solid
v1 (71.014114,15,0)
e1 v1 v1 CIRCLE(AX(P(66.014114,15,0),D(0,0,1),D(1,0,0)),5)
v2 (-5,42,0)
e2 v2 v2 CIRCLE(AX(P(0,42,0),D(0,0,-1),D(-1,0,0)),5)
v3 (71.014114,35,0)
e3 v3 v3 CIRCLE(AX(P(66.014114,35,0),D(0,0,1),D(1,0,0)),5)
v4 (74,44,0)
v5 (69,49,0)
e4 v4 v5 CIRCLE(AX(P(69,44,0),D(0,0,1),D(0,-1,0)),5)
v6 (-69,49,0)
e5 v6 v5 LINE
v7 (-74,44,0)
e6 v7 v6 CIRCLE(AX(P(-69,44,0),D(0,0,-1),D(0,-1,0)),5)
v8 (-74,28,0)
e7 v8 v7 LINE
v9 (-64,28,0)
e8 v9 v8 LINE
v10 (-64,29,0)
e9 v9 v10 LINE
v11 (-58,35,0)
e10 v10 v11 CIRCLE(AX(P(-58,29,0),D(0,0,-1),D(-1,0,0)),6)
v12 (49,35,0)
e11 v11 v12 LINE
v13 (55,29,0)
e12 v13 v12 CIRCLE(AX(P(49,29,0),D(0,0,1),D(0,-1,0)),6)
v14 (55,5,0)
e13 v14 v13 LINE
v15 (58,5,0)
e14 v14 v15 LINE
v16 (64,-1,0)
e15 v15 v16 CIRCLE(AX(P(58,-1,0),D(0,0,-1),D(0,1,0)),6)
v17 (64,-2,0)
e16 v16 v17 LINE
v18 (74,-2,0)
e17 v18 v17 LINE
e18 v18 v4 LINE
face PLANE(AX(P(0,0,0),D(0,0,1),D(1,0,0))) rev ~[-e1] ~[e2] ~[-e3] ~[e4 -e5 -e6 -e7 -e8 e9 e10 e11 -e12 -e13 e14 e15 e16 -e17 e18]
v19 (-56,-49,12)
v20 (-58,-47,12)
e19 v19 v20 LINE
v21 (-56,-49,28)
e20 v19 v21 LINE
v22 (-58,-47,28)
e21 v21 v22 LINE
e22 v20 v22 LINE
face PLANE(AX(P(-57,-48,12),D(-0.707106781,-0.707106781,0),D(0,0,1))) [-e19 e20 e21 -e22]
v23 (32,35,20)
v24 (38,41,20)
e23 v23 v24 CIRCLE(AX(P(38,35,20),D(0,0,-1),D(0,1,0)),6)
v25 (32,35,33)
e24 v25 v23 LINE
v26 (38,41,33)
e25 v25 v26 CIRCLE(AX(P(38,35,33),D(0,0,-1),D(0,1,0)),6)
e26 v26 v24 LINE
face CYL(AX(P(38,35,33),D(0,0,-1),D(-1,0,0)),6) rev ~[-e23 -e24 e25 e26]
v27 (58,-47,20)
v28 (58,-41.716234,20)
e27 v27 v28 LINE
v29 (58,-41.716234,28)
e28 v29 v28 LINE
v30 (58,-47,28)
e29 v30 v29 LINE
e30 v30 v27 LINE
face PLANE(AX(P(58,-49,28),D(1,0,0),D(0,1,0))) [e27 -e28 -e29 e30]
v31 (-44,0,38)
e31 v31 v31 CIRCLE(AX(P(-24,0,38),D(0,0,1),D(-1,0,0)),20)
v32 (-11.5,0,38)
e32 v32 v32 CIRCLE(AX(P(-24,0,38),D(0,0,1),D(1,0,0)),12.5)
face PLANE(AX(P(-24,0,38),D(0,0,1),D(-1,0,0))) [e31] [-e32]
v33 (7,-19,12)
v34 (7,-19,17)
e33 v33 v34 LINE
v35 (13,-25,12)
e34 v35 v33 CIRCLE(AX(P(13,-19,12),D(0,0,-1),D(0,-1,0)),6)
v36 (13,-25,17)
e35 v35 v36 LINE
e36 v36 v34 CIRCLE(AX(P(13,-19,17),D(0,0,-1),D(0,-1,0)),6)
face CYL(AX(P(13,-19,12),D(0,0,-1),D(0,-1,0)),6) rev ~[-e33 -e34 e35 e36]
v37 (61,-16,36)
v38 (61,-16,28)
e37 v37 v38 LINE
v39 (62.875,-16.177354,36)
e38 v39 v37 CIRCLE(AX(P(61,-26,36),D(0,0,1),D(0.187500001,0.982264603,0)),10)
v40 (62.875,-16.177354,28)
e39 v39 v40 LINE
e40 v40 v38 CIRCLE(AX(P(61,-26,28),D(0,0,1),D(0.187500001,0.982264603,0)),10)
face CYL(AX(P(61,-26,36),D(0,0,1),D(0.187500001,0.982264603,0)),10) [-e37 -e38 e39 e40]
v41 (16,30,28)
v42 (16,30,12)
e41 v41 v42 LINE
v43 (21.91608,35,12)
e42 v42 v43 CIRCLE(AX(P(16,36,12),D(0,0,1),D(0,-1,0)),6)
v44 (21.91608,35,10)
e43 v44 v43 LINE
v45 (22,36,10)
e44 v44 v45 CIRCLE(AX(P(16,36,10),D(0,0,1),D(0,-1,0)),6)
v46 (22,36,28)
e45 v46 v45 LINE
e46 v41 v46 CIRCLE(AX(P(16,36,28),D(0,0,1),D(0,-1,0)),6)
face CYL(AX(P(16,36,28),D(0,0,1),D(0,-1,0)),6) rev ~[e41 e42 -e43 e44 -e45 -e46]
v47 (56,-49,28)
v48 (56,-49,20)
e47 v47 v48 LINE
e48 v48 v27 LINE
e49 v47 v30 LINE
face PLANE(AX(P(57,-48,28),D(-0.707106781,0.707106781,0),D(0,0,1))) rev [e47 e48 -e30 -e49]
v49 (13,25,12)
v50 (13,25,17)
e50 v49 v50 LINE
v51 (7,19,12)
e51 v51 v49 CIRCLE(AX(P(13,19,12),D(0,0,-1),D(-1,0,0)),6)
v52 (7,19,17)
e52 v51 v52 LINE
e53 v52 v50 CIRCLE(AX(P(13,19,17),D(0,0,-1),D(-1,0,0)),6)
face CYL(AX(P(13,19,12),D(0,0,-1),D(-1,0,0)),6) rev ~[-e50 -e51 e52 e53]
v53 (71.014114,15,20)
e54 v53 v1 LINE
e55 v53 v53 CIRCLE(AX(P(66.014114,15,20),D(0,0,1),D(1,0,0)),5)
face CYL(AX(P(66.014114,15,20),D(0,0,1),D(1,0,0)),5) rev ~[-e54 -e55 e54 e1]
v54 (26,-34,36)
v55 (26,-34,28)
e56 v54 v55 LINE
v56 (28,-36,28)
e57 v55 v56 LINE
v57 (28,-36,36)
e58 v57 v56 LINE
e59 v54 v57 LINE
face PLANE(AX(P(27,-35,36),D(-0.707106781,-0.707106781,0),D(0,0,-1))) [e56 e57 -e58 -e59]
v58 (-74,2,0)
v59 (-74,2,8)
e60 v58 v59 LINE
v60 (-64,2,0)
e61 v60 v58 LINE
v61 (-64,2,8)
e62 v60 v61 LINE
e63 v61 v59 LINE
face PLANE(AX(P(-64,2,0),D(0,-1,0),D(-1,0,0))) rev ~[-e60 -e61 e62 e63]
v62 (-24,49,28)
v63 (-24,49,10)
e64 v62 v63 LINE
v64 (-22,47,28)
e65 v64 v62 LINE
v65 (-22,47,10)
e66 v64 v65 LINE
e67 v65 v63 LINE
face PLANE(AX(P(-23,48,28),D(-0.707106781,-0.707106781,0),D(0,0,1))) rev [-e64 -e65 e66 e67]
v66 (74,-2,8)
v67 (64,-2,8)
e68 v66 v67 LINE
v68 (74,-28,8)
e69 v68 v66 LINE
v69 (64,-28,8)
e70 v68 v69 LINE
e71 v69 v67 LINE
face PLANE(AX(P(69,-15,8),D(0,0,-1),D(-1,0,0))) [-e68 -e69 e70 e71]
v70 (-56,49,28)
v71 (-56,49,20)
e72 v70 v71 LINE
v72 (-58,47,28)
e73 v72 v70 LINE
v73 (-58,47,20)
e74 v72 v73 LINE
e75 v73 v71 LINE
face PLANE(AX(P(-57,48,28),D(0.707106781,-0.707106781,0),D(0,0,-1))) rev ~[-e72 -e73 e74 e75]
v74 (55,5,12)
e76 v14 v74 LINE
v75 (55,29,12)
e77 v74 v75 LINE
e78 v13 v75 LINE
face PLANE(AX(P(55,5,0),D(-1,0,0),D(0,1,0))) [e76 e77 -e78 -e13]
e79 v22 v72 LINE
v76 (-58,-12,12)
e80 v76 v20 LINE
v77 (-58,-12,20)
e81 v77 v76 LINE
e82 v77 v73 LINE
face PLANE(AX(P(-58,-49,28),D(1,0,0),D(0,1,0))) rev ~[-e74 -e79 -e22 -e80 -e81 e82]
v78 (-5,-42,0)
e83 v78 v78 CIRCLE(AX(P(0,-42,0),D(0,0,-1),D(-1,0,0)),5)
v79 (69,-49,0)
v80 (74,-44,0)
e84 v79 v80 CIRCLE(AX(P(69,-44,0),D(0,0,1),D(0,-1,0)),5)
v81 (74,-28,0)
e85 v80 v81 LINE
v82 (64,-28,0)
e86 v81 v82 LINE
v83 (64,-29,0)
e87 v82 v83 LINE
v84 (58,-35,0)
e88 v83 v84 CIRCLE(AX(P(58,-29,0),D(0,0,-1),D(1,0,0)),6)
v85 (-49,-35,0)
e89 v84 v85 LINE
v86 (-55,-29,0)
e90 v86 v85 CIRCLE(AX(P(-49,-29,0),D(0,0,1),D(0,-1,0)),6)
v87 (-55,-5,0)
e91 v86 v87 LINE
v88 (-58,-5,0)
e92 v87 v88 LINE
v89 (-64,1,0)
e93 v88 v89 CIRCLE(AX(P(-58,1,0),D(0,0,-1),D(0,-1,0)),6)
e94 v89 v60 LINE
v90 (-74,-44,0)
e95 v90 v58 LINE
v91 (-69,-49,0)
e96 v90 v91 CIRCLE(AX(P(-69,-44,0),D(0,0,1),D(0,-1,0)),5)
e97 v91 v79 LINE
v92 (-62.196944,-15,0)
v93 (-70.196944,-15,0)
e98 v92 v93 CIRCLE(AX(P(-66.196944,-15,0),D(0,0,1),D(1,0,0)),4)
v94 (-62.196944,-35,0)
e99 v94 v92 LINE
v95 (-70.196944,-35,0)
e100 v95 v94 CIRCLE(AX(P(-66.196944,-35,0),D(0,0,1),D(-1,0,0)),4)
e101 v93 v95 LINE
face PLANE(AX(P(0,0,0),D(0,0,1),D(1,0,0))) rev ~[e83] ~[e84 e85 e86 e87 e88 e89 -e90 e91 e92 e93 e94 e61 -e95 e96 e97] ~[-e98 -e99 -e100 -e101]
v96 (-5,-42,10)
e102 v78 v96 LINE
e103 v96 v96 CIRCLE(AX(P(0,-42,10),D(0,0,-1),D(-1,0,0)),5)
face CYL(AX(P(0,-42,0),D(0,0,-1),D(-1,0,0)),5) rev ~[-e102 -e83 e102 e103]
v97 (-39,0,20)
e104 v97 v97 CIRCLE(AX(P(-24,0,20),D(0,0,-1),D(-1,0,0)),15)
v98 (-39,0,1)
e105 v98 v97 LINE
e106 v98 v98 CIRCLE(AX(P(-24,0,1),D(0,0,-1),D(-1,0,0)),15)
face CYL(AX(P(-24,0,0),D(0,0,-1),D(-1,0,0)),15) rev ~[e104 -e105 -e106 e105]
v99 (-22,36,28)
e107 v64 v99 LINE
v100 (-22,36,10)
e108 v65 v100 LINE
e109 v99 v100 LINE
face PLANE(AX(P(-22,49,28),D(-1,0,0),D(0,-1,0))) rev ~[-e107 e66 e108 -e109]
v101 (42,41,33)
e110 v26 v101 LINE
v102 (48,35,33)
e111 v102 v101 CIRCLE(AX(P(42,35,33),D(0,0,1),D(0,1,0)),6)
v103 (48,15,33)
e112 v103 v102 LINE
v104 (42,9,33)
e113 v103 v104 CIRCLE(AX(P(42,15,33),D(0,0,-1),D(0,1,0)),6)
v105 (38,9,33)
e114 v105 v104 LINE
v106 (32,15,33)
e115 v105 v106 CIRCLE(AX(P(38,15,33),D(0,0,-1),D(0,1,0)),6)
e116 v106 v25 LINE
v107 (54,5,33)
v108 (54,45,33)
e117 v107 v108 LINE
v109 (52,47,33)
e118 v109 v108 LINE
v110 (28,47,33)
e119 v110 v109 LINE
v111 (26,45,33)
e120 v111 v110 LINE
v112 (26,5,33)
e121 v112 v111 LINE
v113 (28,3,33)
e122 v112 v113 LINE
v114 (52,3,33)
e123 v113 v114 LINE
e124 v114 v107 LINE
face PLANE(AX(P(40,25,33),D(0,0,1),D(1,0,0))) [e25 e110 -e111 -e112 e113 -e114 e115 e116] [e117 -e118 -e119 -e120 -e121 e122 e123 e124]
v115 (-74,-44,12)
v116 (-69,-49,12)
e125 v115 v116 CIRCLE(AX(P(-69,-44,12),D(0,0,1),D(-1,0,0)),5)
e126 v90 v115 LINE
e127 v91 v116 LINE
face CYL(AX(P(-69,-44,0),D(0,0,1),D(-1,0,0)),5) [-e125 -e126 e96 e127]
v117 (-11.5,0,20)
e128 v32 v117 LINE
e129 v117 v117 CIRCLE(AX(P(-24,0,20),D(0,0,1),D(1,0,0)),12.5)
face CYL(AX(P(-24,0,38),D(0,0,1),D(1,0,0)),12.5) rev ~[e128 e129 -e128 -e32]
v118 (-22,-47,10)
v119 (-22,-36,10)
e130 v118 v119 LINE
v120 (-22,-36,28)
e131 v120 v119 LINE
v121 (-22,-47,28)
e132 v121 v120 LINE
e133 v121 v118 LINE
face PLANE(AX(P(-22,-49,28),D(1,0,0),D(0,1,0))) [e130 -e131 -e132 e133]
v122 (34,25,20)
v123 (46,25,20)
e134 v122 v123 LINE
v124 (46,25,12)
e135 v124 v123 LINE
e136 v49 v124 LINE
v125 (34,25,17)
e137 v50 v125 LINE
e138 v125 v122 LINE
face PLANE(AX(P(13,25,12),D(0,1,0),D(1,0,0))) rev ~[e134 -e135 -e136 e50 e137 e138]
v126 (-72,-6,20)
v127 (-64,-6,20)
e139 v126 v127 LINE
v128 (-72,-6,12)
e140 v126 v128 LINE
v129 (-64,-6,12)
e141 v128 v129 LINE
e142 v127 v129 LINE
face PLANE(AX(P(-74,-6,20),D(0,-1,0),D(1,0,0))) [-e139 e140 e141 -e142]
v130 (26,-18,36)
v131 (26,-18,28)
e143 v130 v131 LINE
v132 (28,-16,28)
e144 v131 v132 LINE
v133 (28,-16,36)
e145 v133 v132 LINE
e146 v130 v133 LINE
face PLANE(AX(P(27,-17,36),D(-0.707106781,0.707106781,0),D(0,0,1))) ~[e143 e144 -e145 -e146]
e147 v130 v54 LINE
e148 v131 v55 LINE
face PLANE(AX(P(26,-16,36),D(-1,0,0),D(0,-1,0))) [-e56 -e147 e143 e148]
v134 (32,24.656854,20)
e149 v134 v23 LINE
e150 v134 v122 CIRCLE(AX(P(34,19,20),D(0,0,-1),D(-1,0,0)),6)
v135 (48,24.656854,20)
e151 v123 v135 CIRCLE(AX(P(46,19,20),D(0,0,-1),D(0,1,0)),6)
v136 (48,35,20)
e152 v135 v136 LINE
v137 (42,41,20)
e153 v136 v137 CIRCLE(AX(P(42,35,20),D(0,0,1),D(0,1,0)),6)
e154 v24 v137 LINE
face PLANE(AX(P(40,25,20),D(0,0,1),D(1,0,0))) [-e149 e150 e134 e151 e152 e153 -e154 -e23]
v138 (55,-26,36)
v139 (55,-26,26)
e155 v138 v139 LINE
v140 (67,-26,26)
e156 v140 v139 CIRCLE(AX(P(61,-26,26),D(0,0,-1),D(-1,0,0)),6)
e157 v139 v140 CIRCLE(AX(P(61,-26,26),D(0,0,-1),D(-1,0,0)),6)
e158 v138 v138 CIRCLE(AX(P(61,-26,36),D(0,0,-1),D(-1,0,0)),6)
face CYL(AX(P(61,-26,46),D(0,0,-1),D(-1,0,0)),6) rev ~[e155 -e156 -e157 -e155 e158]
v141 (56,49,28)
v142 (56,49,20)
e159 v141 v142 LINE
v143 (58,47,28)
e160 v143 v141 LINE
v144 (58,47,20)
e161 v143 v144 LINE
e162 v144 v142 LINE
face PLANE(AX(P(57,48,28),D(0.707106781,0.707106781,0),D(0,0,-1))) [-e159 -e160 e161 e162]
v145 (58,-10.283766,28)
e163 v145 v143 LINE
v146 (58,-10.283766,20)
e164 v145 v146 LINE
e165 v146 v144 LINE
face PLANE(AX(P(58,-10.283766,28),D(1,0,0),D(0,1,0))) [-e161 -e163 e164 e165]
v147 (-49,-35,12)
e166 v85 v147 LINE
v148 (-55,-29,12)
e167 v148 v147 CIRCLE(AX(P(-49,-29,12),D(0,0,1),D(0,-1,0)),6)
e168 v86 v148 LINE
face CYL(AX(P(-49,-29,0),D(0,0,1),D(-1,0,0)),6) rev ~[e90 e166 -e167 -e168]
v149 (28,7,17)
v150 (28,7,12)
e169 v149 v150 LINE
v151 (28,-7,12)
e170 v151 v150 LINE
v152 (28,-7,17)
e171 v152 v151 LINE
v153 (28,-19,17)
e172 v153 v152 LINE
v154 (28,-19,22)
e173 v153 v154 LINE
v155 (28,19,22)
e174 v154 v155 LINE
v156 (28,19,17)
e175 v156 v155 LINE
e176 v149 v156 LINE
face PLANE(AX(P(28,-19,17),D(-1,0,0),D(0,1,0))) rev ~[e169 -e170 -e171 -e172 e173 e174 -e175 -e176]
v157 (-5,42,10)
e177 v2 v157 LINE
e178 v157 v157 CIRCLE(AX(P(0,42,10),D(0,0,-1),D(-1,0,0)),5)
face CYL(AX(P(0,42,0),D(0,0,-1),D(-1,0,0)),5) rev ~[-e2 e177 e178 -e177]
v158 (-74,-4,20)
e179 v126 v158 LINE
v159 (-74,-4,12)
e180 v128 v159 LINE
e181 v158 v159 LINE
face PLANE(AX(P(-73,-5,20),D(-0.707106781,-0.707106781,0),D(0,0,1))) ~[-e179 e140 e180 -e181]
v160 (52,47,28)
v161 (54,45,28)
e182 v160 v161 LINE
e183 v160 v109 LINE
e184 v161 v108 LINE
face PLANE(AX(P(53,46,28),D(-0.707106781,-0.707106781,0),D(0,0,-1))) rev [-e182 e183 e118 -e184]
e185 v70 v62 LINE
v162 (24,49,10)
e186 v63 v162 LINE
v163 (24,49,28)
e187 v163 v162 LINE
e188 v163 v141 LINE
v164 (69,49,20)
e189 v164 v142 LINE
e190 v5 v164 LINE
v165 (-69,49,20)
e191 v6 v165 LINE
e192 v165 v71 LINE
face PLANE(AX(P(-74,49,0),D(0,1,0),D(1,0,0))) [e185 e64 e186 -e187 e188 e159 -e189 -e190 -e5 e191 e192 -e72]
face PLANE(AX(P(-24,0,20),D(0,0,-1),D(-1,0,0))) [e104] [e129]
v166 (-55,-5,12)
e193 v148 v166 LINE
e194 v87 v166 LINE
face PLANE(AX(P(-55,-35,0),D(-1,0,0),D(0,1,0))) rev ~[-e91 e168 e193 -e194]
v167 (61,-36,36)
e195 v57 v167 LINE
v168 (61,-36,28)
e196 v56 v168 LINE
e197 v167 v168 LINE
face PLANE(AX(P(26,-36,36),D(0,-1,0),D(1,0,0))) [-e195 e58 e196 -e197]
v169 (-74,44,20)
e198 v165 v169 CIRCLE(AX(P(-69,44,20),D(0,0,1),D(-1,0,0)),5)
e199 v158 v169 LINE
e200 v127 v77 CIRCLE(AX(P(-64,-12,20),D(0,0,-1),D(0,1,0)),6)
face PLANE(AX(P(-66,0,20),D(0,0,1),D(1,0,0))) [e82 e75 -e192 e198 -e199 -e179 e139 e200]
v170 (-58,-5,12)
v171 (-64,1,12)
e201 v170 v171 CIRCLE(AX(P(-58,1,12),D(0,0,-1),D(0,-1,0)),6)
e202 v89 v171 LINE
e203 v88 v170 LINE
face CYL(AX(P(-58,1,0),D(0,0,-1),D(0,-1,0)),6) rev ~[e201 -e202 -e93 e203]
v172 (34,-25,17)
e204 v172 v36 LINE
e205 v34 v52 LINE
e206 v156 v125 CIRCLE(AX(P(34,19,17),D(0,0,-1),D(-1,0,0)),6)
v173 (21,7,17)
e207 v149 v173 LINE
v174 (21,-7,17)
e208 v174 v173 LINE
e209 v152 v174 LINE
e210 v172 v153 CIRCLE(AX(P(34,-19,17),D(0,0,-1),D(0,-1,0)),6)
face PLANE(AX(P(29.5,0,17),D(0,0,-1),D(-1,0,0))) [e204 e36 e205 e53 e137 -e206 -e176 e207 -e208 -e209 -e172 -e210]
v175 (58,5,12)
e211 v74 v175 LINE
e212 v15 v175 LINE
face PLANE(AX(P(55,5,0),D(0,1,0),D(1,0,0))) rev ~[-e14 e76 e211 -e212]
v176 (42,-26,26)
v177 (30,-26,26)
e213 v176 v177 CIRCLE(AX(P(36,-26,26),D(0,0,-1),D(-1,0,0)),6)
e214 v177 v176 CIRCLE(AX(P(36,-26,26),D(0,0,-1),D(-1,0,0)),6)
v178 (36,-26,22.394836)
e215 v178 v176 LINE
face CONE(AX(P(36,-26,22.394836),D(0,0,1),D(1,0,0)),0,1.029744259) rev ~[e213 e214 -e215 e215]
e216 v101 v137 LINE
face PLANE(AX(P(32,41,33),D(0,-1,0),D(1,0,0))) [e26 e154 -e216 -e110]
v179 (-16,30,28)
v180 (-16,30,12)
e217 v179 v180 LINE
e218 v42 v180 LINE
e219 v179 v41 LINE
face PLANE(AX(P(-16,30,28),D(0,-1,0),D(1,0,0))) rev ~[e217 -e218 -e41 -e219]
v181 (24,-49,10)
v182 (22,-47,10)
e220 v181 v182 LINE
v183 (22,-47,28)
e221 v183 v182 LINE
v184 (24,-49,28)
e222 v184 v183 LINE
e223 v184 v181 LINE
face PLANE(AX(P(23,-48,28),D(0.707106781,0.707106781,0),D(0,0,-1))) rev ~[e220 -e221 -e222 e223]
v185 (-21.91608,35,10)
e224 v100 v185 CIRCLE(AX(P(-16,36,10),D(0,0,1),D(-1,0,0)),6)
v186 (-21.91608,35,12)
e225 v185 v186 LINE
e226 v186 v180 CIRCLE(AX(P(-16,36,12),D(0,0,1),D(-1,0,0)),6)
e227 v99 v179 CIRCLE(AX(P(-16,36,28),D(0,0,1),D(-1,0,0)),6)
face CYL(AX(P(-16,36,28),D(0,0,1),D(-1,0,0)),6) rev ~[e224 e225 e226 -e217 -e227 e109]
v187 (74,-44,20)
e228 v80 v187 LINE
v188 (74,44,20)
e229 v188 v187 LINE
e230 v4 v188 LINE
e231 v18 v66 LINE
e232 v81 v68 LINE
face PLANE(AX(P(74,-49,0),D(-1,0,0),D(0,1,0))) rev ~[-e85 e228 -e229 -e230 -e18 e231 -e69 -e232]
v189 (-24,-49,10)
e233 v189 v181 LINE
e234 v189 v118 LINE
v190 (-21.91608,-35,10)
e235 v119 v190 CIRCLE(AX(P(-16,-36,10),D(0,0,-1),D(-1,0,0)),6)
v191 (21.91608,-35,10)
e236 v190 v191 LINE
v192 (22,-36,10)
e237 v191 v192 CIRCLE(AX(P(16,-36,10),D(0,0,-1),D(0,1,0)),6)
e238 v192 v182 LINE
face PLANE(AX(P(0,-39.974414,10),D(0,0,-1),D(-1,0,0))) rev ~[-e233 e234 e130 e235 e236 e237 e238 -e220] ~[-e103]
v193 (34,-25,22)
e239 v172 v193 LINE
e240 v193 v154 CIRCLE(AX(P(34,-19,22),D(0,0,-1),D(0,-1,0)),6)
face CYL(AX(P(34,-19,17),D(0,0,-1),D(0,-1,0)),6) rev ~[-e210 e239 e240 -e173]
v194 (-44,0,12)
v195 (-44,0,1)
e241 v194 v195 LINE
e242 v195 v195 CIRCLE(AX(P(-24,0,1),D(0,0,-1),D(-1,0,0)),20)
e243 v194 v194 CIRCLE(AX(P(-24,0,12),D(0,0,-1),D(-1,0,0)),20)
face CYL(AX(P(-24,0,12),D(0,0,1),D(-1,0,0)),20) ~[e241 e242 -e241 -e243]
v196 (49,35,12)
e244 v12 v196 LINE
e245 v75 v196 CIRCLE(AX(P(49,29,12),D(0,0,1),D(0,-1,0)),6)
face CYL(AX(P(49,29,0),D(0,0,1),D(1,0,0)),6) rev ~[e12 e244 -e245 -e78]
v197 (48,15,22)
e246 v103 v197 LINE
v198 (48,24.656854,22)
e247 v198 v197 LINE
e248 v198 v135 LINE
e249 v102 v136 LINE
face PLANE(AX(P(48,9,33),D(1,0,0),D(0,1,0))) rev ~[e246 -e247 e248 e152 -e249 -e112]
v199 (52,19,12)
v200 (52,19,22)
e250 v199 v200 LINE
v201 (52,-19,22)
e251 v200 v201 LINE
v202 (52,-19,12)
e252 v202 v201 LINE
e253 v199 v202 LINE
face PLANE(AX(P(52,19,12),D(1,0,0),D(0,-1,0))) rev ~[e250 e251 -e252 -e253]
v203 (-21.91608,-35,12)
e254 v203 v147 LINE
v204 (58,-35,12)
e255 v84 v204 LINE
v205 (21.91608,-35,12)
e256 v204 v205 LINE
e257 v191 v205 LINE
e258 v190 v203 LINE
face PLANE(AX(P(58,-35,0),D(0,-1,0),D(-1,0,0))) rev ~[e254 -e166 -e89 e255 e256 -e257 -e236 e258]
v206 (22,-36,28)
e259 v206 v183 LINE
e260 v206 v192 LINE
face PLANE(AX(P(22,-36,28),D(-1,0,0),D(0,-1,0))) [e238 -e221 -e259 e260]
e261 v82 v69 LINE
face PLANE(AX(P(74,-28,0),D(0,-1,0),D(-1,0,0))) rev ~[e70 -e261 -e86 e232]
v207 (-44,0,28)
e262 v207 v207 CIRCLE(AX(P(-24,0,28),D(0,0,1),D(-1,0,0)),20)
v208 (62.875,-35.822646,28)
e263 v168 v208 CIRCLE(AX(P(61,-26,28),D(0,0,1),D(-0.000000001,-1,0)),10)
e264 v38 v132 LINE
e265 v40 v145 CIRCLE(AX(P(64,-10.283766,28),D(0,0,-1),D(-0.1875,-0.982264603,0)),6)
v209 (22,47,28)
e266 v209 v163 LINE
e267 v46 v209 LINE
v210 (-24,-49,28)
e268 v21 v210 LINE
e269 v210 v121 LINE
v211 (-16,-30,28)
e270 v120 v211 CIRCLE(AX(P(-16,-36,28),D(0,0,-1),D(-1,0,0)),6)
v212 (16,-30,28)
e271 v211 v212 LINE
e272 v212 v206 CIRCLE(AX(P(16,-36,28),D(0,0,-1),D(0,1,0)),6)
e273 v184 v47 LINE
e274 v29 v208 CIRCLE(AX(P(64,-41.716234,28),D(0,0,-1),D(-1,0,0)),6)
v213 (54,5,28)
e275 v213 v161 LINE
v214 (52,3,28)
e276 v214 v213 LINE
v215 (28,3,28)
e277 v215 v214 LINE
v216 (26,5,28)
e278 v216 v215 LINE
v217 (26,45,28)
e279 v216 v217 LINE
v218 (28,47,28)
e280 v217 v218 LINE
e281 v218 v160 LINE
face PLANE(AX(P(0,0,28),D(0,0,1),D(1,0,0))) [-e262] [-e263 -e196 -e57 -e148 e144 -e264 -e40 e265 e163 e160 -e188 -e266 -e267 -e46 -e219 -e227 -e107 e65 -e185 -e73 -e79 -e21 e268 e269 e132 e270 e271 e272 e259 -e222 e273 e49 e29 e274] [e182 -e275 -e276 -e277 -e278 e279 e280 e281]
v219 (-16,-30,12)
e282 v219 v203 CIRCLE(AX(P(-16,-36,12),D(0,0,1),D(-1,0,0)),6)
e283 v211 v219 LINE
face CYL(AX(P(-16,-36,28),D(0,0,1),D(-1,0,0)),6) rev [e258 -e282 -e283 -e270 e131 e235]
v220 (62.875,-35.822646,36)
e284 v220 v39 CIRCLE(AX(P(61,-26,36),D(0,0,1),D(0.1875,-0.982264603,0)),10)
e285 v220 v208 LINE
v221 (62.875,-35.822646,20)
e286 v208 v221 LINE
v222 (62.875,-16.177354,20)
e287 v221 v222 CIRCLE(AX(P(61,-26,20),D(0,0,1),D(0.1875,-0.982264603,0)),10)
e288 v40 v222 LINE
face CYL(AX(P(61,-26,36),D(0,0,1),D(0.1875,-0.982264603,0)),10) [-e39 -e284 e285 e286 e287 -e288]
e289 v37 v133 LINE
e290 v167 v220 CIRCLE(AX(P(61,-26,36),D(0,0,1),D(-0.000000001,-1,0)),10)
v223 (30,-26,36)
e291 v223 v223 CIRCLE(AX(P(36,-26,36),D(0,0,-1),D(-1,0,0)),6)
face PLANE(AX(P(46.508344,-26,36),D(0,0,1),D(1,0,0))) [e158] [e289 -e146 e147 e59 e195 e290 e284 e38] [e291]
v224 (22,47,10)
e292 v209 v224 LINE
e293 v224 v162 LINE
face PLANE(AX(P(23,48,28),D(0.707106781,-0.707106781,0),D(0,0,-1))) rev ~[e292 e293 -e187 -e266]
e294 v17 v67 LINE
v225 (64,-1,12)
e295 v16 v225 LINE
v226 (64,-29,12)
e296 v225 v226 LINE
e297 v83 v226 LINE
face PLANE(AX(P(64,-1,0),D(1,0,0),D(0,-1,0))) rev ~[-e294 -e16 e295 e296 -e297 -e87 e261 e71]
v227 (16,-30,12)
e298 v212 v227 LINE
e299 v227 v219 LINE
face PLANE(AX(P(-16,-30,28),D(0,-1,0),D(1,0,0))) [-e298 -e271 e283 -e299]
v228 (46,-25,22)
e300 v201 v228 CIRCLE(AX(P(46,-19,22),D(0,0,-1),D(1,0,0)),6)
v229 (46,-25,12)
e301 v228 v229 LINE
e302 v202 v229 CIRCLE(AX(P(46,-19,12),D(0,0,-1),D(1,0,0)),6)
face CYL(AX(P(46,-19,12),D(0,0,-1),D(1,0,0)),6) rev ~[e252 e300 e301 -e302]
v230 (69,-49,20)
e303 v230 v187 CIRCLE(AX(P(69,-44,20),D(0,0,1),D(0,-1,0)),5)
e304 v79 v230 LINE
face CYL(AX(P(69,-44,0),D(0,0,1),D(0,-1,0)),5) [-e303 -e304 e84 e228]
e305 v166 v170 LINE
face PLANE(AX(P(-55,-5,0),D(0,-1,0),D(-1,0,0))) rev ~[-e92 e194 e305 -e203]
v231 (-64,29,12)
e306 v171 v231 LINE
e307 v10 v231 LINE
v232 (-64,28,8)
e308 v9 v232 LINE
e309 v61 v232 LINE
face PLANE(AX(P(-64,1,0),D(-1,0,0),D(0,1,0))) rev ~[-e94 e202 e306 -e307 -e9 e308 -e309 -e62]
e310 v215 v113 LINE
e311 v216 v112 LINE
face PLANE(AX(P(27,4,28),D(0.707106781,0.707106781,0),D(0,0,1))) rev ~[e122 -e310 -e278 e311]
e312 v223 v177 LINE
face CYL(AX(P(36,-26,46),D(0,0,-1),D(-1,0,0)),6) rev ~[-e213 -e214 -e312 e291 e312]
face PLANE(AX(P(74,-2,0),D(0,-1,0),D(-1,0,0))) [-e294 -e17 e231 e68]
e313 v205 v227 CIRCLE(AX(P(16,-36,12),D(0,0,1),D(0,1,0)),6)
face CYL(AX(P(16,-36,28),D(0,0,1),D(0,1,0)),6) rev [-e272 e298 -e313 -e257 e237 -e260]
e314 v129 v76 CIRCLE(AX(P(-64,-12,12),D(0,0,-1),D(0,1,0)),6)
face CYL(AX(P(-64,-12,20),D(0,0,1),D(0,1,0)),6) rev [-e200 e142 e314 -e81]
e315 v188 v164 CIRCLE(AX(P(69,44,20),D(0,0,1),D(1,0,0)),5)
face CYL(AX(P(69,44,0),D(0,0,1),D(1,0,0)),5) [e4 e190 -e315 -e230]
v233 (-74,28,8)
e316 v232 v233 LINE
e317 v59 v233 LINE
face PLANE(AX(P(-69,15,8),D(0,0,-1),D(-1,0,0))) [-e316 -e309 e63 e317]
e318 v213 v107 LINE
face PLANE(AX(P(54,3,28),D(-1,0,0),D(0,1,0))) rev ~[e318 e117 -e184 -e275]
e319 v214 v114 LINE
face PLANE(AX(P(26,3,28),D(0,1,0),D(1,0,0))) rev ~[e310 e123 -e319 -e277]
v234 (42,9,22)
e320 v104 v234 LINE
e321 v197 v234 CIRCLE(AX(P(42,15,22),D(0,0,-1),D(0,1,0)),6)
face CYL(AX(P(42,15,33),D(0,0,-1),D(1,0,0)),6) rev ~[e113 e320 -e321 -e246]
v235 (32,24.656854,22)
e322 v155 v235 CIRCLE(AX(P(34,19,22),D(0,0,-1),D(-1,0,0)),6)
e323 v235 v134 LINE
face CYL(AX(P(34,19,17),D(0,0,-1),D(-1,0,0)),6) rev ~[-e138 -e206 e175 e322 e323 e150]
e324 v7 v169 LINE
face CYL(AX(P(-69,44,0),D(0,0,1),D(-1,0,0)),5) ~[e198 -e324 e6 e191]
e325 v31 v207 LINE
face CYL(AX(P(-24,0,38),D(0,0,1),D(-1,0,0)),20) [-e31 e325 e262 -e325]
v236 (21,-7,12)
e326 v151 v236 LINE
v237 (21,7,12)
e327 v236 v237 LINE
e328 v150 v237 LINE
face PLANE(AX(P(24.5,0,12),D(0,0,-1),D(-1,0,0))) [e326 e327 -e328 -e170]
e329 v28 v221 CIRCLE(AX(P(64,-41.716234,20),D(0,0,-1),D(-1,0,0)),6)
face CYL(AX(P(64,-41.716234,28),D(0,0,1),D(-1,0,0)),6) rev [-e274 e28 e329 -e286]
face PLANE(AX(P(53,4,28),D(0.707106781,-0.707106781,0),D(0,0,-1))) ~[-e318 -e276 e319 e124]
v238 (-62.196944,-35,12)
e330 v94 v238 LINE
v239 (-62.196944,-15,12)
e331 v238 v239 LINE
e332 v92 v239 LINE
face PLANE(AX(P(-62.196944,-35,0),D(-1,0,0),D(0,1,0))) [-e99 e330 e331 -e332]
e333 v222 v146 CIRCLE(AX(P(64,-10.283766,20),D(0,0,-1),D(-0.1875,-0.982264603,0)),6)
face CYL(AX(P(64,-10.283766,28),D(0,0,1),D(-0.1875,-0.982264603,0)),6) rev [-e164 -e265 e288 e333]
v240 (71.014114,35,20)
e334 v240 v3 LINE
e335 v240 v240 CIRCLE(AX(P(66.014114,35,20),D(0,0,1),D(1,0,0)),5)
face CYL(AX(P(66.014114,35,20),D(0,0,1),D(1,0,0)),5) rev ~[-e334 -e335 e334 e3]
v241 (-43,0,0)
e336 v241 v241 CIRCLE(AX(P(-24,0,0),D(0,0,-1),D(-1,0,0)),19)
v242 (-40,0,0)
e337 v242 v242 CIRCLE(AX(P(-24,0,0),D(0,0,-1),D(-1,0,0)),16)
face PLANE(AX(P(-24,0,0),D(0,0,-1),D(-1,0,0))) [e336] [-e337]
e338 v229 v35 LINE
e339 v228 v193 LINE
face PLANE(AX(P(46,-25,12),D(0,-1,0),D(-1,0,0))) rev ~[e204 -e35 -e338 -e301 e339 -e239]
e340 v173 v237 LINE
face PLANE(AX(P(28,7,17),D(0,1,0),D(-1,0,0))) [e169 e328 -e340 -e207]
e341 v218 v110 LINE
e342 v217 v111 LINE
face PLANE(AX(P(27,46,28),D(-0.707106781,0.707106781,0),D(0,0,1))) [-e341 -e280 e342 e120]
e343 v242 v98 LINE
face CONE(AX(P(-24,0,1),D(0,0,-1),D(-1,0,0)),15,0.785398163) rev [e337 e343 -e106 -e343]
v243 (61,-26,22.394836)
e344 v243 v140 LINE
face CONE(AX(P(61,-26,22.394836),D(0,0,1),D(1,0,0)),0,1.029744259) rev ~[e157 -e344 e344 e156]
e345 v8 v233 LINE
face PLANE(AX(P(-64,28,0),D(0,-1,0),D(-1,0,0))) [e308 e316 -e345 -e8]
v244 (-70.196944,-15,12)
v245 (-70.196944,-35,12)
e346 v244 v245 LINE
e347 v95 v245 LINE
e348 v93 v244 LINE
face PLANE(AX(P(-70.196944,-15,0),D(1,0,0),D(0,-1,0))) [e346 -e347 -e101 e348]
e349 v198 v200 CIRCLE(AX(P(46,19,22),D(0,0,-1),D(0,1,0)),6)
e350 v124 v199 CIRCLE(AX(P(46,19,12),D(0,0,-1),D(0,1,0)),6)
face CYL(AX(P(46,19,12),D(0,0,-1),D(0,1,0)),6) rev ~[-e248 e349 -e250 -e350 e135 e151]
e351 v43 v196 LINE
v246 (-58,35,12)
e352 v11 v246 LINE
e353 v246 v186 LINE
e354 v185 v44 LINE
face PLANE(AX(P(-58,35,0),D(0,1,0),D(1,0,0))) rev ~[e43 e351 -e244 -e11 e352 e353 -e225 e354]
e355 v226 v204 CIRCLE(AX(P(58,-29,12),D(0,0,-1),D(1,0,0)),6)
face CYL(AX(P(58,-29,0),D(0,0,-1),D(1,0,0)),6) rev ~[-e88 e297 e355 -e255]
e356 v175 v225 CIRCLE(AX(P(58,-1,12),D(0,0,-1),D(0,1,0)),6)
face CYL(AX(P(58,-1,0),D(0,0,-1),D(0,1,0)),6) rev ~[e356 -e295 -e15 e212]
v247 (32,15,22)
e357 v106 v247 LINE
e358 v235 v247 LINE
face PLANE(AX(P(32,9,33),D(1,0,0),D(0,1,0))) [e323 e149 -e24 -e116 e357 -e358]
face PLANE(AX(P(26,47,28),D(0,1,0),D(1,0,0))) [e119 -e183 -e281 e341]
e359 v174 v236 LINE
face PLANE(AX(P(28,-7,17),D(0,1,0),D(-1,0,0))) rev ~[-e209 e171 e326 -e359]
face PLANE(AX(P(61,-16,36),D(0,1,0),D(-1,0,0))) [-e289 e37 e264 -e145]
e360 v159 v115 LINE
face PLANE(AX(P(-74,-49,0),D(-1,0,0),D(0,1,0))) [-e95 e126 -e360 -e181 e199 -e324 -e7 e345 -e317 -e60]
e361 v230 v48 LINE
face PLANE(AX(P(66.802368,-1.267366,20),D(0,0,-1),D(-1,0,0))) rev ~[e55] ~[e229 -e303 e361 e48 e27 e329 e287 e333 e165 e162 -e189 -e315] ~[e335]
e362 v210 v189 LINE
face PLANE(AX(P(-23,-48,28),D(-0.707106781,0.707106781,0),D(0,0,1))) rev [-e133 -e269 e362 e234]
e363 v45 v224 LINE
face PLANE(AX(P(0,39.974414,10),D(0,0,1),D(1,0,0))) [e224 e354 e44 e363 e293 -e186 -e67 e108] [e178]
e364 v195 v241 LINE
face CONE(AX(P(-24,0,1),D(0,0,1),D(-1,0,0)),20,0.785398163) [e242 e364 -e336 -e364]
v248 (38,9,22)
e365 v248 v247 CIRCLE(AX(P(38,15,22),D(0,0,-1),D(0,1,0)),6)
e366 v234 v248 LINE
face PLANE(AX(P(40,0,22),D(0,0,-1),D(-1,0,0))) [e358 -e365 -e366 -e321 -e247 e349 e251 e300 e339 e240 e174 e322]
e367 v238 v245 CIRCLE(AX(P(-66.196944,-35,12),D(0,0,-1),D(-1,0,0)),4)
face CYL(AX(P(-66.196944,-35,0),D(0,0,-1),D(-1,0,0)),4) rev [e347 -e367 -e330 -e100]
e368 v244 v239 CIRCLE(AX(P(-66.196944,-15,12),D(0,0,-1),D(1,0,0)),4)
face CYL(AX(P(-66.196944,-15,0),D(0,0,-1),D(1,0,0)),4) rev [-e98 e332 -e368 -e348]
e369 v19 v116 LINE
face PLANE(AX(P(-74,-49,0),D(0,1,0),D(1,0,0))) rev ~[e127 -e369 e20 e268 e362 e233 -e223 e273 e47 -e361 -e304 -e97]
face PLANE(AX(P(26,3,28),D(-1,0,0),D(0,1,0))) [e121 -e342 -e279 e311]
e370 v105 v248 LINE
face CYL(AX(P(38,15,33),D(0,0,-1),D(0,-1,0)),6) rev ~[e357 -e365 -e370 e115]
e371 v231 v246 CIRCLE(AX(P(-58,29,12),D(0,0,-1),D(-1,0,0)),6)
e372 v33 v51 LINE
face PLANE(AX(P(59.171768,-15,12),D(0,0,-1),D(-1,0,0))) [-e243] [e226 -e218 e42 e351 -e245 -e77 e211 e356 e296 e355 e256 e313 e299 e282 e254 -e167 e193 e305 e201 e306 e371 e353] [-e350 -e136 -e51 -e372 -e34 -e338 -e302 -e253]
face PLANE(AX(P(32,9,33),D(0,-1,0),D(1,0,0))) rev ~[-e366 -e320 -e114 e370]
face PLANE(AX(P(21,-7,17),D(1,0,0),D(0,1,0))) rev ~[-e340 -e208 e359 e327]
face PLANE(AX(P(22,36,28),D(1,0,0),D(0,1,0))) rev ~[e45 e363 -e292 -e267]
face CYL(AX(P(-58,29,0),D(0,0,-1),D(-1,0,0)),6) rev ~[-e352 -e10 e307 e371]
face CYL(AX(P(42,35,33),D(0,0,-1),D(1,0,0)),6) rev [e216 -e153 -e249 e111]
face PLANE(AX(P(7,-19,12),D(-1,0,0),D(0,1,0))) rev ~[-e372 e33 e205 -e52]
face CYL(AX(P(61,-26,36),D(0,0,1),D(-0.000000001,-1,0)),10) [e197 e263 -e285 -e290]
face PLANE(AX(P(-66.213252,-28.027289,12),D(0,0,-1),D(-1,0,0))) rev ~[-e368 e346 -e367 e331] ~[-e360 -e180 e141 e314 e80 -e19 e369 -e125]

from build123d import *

# Parameters (mm, degrees)
SKETCH_1_W                  = 148
SKETCH_1_H                  = 98
EXTRUDE_1_DEPTH             = 28
FILLET_1_R                  = 5
SKETCH_3_W                  = 110
SKETCH_3_H                  = 70
CUT_EXTRUDE_1_DEPTH         = 12
FILLET_2_R                  = 6
CUT_EXTRUDE_2_DEPTH         = 5
CUT_EXTRUDE_3_DEPTH         = 5
SKETCH_7_W                  = 7
SKETCH_7_H                  = 14
EXTRUDE_2_DEPTH             = 5
SKETCH_8_R                  = 20
EXTRUDE_3_DEPTH             = 12
SKETCH_9_R                  = 15
CUT_EXTRUDE_4_DEPTH         = 20
SKETCH_10_W                 = 10
SKETCH_10_H                 = 26
CUT_EXTRUDE_5_DEPTH         = 8
CUT_EXTRUDE_6_DEPTH         = 18
CUT_EXTRUDE_7_DEPTH         = 8
SKETCH_14_W                 = 16
SKETCH_14_H                 = 98
CUT_EXTRUDE_8_DEPTH         = 8
CUT_EXTRUDE_9_DEPTH         = 8
CHAMFER_1_SIZE              = 2
EXTRUDE_START               = 10
SKETCH_17_R                 = 20
EXTRUDE_4_DEPTH             = 10
CHAMFER_2_SIZE              = 1
SKETCH_18_R                 = 12.5
CUT_EXTRUDE_10_DEPTH        = 97.545326143
SKETCH_19_W                 = 28
SKETCH_19_H                 = 44
EXTRUDE_5_DEPTH             = 5
SKETCH_20_W                 = 16
SKETCH_20_H                 = 32
CUT_EXTRUDE_11_DEPTH        = 13
FILLET_3_R                  = 6
CHAMFER_3_SIZE              = 2
EXTRUDE_START_2             = 8
EXTRUDE_6_DEPTH             = 8
CHAMFER_4_SIZE              = 2
CUT_EXTRUDE_12_DEPTH        = 97.545326143
SKETCH_23_R                 = 5
CUT_EXTRUDE_13_DEPTH        = 97.545326143
HOLE_WIZARD_12_0_12_1_D     = 12
HOLE_WIZARD_12_0_12_1_DEPTH = 10
HOLE_WIZARD_12_0_12_1_TIP   = 3.605163714
SKETCH_26_R                 = 5
CUT_EXTRUDE_14_DEPTH        = 91.978019323


with BuildPart() as part:
    # 草图1 → 凸台-拉伸1 (new body)
    with BuildSketch(Plane.XY):
        Rectangle(SKETCH_1_W, SKETCH_1_H)
    extrude(amount=EXTRUDE_1_DEPTH)

    # 圆角1
    fillet_1_edges = [part.edges().sort_by_distance(p)[0] for p in [
        (-74, 49, 14),
        (74, 49, 14),
        (74, -49, 14),
        (-74, -49, 14),
    ]]
    fillet(fillet_1_edges, radius=FILLET_1_R)

    # 草图3 → 切除-拉伸1 (cut)
    with BuildSketch(Plane(origin=(0, 0, 0), x_dir=(-1, 0, 0), z_dir=(0, 0, -1))):
        with BuildLine():
            Line((-58, -35), (-55, -35))
            Line((-55, -35), (-55, 5))
            Line((-55, 5), (-58, 5))
            ThreePointArc((-58, 5), (-62.242640687, 3.242640687), (-64, -1))
            Line((-64, -1), (-64, -29))
            ThreePointArc((-64, -29), (-62.242640687, -33.242640687), (-58, -35))
        make_face()
        Rectangle(SKETCH_3_W, SKETCH_3_H)
        with BuildLine():
            Line((55, 35), (55, -5))
            Line((55, -5), (58, -5))
            ThreePointArc((58, -5), (62.242640687, -3.242640687), (64, 1))
            Line((64, 1), (64, 29))
            ThreePointArc((64, 29), (62.242640687, 33.242640687), (58, 35))
            Line((58, 35), (55, 35))
        make_face()
    extrude(amount=-CUT_EXTRUDE_1_DEPTH, mode=Mode.SUBTRACT)

    # 圆角2
    fillet_2_edges = [part.edges().sort_by_distance(p)[0] for p in [
        (55, 35, 6),
        (-55, -35, 6),
    ]]
    fillet(fillet_2_edges, radius=FILLET_2_R)

    # 草图4 → 切除-拉伸2 (cut)
    with BuildSketch(Plane(origin=(0, 0, 12), x_dir=(-1, 0, 0), z_dir=(0, 0, -1))):
        with BuildLine():
            Line((-46, -25), (-13, -25))
            ThreePointArc((-13, -25), (-8.757359313, -23.242640687), (-7, -19))
            Line((-7, -19), (-7, 19))
            ThreePointArc((-7, 19), (-8.757359313, 23.242640687), (-13, 25))
            Line((-13, 25), (-46, 25))
            ThreePointArc((-46, 25), (-50.242640687, 23.242640687), (-52, 19))
            Line((-52, 19), (-52, -19))
            ThreePointArc((-52, -19), (-50.242640687, -23.242640687), (-46, -25))
        make_face()
    extrude(amount=-CUT_EXTRUDE_2_DEPTH, mode=Mode.SUBTRACT)

    # 草图6 → 切除-拉伸3 (cut)
    with BuildSketch(Plane(origin=(0, 0, 17), x_dir=(-1, 0, 0), z_dir=(0, 0, -1))):
        with BuildLine():
            Line((-46, -25), (-34, -25))
            ThreePointArc((-34, -25), (-29.757359313, -23.242640687), (-28, -19))
            Line((-28, -19), (-28, 19))
            ThreePointArc((-28, 19), (-29.757359313, 23.242640687), (-34, 25))
            Line((-34, 25), (-46, 25))
            ThreePointArc((-46, 25), (-50.242640687, 23.242640687), (-52, 19))
            Line((-52, 19), (-52, -19))
            ThreePointArc((-52, -19), (-50.242640687, -23.242640687), (-46, -25))
        make_face()
    extrude(amount=-CUT_EXTRUDE_3_DEPTH, mode=Mode.SUBTRACT)

    # 草图7 → 凸台-拉伸2 (add)
    with BuildSketch(Plane(origin=(0, 0, 17), x_dir=(-1, 0, 0), z_dir=(0, 0, -1))):
        with Locations((-24.5, 0)):
            Rectangle(SKETCH_7_W, SKETCH_7_H)
    extrude(amount=EXTRUDE_2_DEPTH)

    # 草图8 → 凸台-拉伸3 (add)
    with BuildSketch(Plane(origin=(0, 0, 12), x_dir=(-1, 0, 0), z_dir=(0, 0, -1))):
        with Locations((24, 0)):
            Circle(SKETCH_8_R)
    extrude(amount=EXTRUDE_3_DEPTH)

    # 草图9 → 切除-拉伸4 (cut)
    with BuildSketch(Plane(origin=(0, 0, 0), x_dir=(-1, 0, 0), z_dir=(0, 0, -1))):
        with Locations((24, 0)):
            Circle(SKETCH_9_R)
    extrude(amount=-CUT_EXTRUDE_4_DEPTH, mode=Mode.SUBTRACT)

    # 草图10 → 切除-拉伸5 (cut)
    with BuildSketch(Plane(origin=(0, 0, 0), x_dir=(-1, 0, 0), z_dir=(0, 0, -1))):
        with Locations((-69, -15)):
            Rectangle(SKETCH_10_W, SKETCH_10_H)
        with Locations((69, 15)):
            Rectangle(SKETCH_10_W, SKETCH_10_H)
    extrude(amount=-CUT_EXTRUDE_5_DEPTH, mode=Mode.SUBTRACT)

    # 草图12 → 切除-拉伸6 (cut)
    with BuildSketch(Plane.XY.offset(28)):
        with BuildLine():
            Line((22, -49), (-22, -49))
            Line((-22, -49), (-22, -36))
            ThreePointArc((-22, -36), (-20.242640687, -31.757359313), (-16, -30))
            Line((-16, -30), (16, -30))
            ThreePointArc((16, -30), (20.242640687, -31.757359313), (22, -36))
            Line((22, -36), (22, -49))
        make_face()
        with BuildLine():
            Line((-22, 49), (-22, 36))
            ThreePointArc((-22, 36), (-20.242640687, 31.757359313), (-16, 30))
            Line((-16, 30), (16, 30))
            ThreePointArc((16, 30), (20.242640687, 31.757359313), (22, 36))
            Line((22, 36), (22, 49))
            Line((22, 49), (-22, 49))
        make_face()
    extrude(amount=-CUT_EXTRUDE_6_DEPTH, mode=Mode.SUBTRACT)

    # 草图13 → 切除-拉伸7 (cut)
    with BuildSketch(Plane.XY.offset(28)):
        with BuildLine():
            Line((74, -49), (58, -49))
            Line((58, -49), (58, -41.716233646))
            ThreePointArc((58, -41.716233646), (59.376689498, -37.89196901), (62.875, -35.822646028))
            ThreePointArc((62.875, -35.822646028), (71, -26), (62.875, -16.177353972))
            ThreePointArc((62.875, -16.177353972), (59.376689498, -14.10803099), (58, -10.283766354))
            Line((58, -10.283766354), (58, 49))
            Line((58, 49), (74, 49))
            Line((74, 49), (74, -49))
        make_face()
    extrude(amount=-CUT_EXTRUDE_7_DEPTH, mode=Mode.SUBTRACT)

    # 草图14 → 切除-拉伸8 (cut)
    with BuildSketch(Plane.XY.offset(28)):
        with Locations((-66, 0)):
            Rectangle(SKETCH_14_W, SKETCH_14_H)
    extrude(amount=-CUT_EXTRUDE_8_DEPTH, mode=Mode.SUBTRACT)

    # 草图15 → 切除-拉伸9 (cut)
    with BuildSketch(Plane.XY.offset(20)):
        with BuildLine():
            Line((-58, -49), (-74, -49))
            Line((-74, -49), (-74, -6))
            Line((-74, -6), (-64, -6))
            ThreePointArc((-64, -6), (-59.757359313, -7.757359313), (-58, -12))
            Line((-58, -12), (-58, -49))
        make_face()
    extrude(amount=-CUT_EXTRUDE_9_DEPTH, mode=Mode.SUBTRACT)

    # 倒角1
    chamfer_1_edges = [part.edges().sort_by_distance(p)[0] for p in [
        (22, -49, 19),
        (-22, -49, 19),
        (-22, 49, 19),
        (22, 49, 19),
        (58, 49, 24),
        (58, -49, 24),
        (-58, 49, 24),
        (-58, -49, 20),
        (-74, -6, 16),
    ]]
    chamfer(chamfer_1_edges, length=CHAMFER_1_SIZE)

    # 草图17 → 凸台-拉伸4 (add)
    with BuildSketch(Plane.XY.offset(28).offset(EXTRUDE_START)):
        with Locations(Location((-24, 0, 0), (0, 0, 180))):
            Circle(SKETCH_17_R)
    extrude(amount=-EXTRUDE_4_DEPTH)

    # 倒角2
    chamfer_2_edges = [part.edges().sort_by_distance(p)[0] for p in [
        (-4, 0, 0),
        (-9, 0, 0),
    ]]
    chamfer(chamfer_2_edges, length=CHAMFER_2_SIZE)

    # 草图18 → 切除-拉伸10 (cut, through all)
    with BuildSketch(Plane.XY.offset(38)):
        with Locations((-24, 0)):
            Circle(SKETCH_18_R)
    extrude(amount=-CUT_EXTRUDE_10_DEPTH, mode=Mode.SUBTRACT)

    # 草图19 → 凸台-拉伸5 (add)
    with BuildSketch(Plane.XY.offset(28)):
        with Locations((40, 25)):
            Rectangle(SKETCH_19_W, SKETCH_19_H)
    extrude(amount=EXTRUDE_5_DEPTH)

    # 草图20 → 切除-拉伸11 (cut)
    with BuildSketch(Plane.XY.offset(33)):
        with Locations((40, 25)):
            Rectangle(SKETCH_20_W, SKETCH_20_H)
    extrude(amount=-CUT_EXTRUDE_11_DEPTH, mode=Mode.SUBTRACT)

    # 圆角3
    fillet_3_edges = [part.edges().sort_by_distance(p)[0] for p in [
        (32, 9, 27.5),
        (48, 41, 26.5),
        (32, 41, 26.5),
        (48, 9, 27.5),
    ]]
    fillet(fillet_3_edges, radius=FILLET_3_R)

    # 倒角3
    chamfer_3_edges = [part.edges().sort_by_distance(p)[0] for p in [
        (54, 3, 30.5),
        (54, 47, 30.5),
        (26, 47, 30.5),
        (26, 3, 30.5),
    ]]
    chamfer(chamfer_3_edges, length=CHAMFER_3_SIZE)

    # 草图21 → 凸台-拉伸6 (add)
    with BuildSketch(Plane.XY.offset(28).offset(EXTRUDE_START_2)):
        with BuildLine():
            Line((26, -16), (26, -36))
            Line((26, -36), (61, -36))
            ThreePointArc((61, -36), (61.941684585, -35.955562774), (62.875, -35.822646028))
            ThreePointArc((62.875, -35.822646028), (71, -26), (62.875, -16.177353972))
            ThreePointArc((62.875, -16.177353972), (61.941684585, -16.044437226), (61, -16))
            Line((61, -16), (26, -16))
        make_face()
    extrude(amount=-EXTRUDE_6_DEPTH)

    # 倒角4
    chamfer_4_edges = [part.edges().sort_by_distance(p)[0] for p in [
        (26, -16, 32),
        (26, -36, 32),
    ]]
    chamfer(chamfer_4_edges, length=CHAMFER_4_SIZE)

    # 草图22 → 切除-拉伸12 (cut, through all)
    with BuildSketch(Plane(origin=(0, 0, 0), x_dir=(-1, 0, 0), z_dir=(0, 0, -1))):
        with BuildLine():
            Line((62.19694392, -35), (62.19694392, -15))
            ThreePointArc((62.19694392, -15), (66.19694392, -11), (70.19694392, -15))
            Line((70.19694392, -15), (70.19694392, -35))
            ThreePointArc((70.19694392, -35), (66.19694392, -39), (62.19694392, -35))
        make_face()
    extrude(amount=-CUT_EXTRUDE_12_DEPTH, mode=Mode.SUBTRACT)

    # 草图23 → 切除-拉伸13 (cut, through all)
    with BuildSketch(Plane(origin=(0, 0, 0), x_dir=(-1, 0, 0), z_dir=(0, 0, -1))):
        with Locations((0, 42)):
            Circle(SKETCH_23_R)
        with Locations((0, -42)):
            Circle(SKETCH_23_R)
    extrude(amount=-CUT_EXTRUDE_13_DEPTH, mode=Mode.SUBTRACT)

    # Ø12.0 (12) 直径孔1
    with Locations(Plane(origin=(61, -26, 36), x_dir=(1, 0, 0), z_dir=(0, 0, 1))):
        with Locations((0, 0), (-25, 0)):
            Hole(HOLE_WIZARD_12_0_12_1_D / 2, depth=HOLE_WIZARD_12_0_12_1_DEPTH)
            with Locations((0, 0, -(HOLE_WIZARD_12_0_12_1_DEPTH + HOLE_WIZARD_12_0_12_1_TIP / 2))):  # 118° drill point
                Cone(0, HOLE_WIZARD_12_0_12_1_D / 2, HOLE_WIZARD_12_0_12_1_TIP, mode=Mode.SUBTRACT)

    # 草图26 → 切除-拉伸14 (cut, through all)
    with BuildSketch(Plane.XY.offset(20)):
        with Locations((66.01411415, 35)):
            Circle(SKETCH_26_R)
        with Locations((66.01411415, 15)):
            Circle(SKETCH_26_R)
    extrude(amount=-CUT_EXTRUDE_14_DEPTH, mode=Mode.SUBTRACT)


solid = part.part
